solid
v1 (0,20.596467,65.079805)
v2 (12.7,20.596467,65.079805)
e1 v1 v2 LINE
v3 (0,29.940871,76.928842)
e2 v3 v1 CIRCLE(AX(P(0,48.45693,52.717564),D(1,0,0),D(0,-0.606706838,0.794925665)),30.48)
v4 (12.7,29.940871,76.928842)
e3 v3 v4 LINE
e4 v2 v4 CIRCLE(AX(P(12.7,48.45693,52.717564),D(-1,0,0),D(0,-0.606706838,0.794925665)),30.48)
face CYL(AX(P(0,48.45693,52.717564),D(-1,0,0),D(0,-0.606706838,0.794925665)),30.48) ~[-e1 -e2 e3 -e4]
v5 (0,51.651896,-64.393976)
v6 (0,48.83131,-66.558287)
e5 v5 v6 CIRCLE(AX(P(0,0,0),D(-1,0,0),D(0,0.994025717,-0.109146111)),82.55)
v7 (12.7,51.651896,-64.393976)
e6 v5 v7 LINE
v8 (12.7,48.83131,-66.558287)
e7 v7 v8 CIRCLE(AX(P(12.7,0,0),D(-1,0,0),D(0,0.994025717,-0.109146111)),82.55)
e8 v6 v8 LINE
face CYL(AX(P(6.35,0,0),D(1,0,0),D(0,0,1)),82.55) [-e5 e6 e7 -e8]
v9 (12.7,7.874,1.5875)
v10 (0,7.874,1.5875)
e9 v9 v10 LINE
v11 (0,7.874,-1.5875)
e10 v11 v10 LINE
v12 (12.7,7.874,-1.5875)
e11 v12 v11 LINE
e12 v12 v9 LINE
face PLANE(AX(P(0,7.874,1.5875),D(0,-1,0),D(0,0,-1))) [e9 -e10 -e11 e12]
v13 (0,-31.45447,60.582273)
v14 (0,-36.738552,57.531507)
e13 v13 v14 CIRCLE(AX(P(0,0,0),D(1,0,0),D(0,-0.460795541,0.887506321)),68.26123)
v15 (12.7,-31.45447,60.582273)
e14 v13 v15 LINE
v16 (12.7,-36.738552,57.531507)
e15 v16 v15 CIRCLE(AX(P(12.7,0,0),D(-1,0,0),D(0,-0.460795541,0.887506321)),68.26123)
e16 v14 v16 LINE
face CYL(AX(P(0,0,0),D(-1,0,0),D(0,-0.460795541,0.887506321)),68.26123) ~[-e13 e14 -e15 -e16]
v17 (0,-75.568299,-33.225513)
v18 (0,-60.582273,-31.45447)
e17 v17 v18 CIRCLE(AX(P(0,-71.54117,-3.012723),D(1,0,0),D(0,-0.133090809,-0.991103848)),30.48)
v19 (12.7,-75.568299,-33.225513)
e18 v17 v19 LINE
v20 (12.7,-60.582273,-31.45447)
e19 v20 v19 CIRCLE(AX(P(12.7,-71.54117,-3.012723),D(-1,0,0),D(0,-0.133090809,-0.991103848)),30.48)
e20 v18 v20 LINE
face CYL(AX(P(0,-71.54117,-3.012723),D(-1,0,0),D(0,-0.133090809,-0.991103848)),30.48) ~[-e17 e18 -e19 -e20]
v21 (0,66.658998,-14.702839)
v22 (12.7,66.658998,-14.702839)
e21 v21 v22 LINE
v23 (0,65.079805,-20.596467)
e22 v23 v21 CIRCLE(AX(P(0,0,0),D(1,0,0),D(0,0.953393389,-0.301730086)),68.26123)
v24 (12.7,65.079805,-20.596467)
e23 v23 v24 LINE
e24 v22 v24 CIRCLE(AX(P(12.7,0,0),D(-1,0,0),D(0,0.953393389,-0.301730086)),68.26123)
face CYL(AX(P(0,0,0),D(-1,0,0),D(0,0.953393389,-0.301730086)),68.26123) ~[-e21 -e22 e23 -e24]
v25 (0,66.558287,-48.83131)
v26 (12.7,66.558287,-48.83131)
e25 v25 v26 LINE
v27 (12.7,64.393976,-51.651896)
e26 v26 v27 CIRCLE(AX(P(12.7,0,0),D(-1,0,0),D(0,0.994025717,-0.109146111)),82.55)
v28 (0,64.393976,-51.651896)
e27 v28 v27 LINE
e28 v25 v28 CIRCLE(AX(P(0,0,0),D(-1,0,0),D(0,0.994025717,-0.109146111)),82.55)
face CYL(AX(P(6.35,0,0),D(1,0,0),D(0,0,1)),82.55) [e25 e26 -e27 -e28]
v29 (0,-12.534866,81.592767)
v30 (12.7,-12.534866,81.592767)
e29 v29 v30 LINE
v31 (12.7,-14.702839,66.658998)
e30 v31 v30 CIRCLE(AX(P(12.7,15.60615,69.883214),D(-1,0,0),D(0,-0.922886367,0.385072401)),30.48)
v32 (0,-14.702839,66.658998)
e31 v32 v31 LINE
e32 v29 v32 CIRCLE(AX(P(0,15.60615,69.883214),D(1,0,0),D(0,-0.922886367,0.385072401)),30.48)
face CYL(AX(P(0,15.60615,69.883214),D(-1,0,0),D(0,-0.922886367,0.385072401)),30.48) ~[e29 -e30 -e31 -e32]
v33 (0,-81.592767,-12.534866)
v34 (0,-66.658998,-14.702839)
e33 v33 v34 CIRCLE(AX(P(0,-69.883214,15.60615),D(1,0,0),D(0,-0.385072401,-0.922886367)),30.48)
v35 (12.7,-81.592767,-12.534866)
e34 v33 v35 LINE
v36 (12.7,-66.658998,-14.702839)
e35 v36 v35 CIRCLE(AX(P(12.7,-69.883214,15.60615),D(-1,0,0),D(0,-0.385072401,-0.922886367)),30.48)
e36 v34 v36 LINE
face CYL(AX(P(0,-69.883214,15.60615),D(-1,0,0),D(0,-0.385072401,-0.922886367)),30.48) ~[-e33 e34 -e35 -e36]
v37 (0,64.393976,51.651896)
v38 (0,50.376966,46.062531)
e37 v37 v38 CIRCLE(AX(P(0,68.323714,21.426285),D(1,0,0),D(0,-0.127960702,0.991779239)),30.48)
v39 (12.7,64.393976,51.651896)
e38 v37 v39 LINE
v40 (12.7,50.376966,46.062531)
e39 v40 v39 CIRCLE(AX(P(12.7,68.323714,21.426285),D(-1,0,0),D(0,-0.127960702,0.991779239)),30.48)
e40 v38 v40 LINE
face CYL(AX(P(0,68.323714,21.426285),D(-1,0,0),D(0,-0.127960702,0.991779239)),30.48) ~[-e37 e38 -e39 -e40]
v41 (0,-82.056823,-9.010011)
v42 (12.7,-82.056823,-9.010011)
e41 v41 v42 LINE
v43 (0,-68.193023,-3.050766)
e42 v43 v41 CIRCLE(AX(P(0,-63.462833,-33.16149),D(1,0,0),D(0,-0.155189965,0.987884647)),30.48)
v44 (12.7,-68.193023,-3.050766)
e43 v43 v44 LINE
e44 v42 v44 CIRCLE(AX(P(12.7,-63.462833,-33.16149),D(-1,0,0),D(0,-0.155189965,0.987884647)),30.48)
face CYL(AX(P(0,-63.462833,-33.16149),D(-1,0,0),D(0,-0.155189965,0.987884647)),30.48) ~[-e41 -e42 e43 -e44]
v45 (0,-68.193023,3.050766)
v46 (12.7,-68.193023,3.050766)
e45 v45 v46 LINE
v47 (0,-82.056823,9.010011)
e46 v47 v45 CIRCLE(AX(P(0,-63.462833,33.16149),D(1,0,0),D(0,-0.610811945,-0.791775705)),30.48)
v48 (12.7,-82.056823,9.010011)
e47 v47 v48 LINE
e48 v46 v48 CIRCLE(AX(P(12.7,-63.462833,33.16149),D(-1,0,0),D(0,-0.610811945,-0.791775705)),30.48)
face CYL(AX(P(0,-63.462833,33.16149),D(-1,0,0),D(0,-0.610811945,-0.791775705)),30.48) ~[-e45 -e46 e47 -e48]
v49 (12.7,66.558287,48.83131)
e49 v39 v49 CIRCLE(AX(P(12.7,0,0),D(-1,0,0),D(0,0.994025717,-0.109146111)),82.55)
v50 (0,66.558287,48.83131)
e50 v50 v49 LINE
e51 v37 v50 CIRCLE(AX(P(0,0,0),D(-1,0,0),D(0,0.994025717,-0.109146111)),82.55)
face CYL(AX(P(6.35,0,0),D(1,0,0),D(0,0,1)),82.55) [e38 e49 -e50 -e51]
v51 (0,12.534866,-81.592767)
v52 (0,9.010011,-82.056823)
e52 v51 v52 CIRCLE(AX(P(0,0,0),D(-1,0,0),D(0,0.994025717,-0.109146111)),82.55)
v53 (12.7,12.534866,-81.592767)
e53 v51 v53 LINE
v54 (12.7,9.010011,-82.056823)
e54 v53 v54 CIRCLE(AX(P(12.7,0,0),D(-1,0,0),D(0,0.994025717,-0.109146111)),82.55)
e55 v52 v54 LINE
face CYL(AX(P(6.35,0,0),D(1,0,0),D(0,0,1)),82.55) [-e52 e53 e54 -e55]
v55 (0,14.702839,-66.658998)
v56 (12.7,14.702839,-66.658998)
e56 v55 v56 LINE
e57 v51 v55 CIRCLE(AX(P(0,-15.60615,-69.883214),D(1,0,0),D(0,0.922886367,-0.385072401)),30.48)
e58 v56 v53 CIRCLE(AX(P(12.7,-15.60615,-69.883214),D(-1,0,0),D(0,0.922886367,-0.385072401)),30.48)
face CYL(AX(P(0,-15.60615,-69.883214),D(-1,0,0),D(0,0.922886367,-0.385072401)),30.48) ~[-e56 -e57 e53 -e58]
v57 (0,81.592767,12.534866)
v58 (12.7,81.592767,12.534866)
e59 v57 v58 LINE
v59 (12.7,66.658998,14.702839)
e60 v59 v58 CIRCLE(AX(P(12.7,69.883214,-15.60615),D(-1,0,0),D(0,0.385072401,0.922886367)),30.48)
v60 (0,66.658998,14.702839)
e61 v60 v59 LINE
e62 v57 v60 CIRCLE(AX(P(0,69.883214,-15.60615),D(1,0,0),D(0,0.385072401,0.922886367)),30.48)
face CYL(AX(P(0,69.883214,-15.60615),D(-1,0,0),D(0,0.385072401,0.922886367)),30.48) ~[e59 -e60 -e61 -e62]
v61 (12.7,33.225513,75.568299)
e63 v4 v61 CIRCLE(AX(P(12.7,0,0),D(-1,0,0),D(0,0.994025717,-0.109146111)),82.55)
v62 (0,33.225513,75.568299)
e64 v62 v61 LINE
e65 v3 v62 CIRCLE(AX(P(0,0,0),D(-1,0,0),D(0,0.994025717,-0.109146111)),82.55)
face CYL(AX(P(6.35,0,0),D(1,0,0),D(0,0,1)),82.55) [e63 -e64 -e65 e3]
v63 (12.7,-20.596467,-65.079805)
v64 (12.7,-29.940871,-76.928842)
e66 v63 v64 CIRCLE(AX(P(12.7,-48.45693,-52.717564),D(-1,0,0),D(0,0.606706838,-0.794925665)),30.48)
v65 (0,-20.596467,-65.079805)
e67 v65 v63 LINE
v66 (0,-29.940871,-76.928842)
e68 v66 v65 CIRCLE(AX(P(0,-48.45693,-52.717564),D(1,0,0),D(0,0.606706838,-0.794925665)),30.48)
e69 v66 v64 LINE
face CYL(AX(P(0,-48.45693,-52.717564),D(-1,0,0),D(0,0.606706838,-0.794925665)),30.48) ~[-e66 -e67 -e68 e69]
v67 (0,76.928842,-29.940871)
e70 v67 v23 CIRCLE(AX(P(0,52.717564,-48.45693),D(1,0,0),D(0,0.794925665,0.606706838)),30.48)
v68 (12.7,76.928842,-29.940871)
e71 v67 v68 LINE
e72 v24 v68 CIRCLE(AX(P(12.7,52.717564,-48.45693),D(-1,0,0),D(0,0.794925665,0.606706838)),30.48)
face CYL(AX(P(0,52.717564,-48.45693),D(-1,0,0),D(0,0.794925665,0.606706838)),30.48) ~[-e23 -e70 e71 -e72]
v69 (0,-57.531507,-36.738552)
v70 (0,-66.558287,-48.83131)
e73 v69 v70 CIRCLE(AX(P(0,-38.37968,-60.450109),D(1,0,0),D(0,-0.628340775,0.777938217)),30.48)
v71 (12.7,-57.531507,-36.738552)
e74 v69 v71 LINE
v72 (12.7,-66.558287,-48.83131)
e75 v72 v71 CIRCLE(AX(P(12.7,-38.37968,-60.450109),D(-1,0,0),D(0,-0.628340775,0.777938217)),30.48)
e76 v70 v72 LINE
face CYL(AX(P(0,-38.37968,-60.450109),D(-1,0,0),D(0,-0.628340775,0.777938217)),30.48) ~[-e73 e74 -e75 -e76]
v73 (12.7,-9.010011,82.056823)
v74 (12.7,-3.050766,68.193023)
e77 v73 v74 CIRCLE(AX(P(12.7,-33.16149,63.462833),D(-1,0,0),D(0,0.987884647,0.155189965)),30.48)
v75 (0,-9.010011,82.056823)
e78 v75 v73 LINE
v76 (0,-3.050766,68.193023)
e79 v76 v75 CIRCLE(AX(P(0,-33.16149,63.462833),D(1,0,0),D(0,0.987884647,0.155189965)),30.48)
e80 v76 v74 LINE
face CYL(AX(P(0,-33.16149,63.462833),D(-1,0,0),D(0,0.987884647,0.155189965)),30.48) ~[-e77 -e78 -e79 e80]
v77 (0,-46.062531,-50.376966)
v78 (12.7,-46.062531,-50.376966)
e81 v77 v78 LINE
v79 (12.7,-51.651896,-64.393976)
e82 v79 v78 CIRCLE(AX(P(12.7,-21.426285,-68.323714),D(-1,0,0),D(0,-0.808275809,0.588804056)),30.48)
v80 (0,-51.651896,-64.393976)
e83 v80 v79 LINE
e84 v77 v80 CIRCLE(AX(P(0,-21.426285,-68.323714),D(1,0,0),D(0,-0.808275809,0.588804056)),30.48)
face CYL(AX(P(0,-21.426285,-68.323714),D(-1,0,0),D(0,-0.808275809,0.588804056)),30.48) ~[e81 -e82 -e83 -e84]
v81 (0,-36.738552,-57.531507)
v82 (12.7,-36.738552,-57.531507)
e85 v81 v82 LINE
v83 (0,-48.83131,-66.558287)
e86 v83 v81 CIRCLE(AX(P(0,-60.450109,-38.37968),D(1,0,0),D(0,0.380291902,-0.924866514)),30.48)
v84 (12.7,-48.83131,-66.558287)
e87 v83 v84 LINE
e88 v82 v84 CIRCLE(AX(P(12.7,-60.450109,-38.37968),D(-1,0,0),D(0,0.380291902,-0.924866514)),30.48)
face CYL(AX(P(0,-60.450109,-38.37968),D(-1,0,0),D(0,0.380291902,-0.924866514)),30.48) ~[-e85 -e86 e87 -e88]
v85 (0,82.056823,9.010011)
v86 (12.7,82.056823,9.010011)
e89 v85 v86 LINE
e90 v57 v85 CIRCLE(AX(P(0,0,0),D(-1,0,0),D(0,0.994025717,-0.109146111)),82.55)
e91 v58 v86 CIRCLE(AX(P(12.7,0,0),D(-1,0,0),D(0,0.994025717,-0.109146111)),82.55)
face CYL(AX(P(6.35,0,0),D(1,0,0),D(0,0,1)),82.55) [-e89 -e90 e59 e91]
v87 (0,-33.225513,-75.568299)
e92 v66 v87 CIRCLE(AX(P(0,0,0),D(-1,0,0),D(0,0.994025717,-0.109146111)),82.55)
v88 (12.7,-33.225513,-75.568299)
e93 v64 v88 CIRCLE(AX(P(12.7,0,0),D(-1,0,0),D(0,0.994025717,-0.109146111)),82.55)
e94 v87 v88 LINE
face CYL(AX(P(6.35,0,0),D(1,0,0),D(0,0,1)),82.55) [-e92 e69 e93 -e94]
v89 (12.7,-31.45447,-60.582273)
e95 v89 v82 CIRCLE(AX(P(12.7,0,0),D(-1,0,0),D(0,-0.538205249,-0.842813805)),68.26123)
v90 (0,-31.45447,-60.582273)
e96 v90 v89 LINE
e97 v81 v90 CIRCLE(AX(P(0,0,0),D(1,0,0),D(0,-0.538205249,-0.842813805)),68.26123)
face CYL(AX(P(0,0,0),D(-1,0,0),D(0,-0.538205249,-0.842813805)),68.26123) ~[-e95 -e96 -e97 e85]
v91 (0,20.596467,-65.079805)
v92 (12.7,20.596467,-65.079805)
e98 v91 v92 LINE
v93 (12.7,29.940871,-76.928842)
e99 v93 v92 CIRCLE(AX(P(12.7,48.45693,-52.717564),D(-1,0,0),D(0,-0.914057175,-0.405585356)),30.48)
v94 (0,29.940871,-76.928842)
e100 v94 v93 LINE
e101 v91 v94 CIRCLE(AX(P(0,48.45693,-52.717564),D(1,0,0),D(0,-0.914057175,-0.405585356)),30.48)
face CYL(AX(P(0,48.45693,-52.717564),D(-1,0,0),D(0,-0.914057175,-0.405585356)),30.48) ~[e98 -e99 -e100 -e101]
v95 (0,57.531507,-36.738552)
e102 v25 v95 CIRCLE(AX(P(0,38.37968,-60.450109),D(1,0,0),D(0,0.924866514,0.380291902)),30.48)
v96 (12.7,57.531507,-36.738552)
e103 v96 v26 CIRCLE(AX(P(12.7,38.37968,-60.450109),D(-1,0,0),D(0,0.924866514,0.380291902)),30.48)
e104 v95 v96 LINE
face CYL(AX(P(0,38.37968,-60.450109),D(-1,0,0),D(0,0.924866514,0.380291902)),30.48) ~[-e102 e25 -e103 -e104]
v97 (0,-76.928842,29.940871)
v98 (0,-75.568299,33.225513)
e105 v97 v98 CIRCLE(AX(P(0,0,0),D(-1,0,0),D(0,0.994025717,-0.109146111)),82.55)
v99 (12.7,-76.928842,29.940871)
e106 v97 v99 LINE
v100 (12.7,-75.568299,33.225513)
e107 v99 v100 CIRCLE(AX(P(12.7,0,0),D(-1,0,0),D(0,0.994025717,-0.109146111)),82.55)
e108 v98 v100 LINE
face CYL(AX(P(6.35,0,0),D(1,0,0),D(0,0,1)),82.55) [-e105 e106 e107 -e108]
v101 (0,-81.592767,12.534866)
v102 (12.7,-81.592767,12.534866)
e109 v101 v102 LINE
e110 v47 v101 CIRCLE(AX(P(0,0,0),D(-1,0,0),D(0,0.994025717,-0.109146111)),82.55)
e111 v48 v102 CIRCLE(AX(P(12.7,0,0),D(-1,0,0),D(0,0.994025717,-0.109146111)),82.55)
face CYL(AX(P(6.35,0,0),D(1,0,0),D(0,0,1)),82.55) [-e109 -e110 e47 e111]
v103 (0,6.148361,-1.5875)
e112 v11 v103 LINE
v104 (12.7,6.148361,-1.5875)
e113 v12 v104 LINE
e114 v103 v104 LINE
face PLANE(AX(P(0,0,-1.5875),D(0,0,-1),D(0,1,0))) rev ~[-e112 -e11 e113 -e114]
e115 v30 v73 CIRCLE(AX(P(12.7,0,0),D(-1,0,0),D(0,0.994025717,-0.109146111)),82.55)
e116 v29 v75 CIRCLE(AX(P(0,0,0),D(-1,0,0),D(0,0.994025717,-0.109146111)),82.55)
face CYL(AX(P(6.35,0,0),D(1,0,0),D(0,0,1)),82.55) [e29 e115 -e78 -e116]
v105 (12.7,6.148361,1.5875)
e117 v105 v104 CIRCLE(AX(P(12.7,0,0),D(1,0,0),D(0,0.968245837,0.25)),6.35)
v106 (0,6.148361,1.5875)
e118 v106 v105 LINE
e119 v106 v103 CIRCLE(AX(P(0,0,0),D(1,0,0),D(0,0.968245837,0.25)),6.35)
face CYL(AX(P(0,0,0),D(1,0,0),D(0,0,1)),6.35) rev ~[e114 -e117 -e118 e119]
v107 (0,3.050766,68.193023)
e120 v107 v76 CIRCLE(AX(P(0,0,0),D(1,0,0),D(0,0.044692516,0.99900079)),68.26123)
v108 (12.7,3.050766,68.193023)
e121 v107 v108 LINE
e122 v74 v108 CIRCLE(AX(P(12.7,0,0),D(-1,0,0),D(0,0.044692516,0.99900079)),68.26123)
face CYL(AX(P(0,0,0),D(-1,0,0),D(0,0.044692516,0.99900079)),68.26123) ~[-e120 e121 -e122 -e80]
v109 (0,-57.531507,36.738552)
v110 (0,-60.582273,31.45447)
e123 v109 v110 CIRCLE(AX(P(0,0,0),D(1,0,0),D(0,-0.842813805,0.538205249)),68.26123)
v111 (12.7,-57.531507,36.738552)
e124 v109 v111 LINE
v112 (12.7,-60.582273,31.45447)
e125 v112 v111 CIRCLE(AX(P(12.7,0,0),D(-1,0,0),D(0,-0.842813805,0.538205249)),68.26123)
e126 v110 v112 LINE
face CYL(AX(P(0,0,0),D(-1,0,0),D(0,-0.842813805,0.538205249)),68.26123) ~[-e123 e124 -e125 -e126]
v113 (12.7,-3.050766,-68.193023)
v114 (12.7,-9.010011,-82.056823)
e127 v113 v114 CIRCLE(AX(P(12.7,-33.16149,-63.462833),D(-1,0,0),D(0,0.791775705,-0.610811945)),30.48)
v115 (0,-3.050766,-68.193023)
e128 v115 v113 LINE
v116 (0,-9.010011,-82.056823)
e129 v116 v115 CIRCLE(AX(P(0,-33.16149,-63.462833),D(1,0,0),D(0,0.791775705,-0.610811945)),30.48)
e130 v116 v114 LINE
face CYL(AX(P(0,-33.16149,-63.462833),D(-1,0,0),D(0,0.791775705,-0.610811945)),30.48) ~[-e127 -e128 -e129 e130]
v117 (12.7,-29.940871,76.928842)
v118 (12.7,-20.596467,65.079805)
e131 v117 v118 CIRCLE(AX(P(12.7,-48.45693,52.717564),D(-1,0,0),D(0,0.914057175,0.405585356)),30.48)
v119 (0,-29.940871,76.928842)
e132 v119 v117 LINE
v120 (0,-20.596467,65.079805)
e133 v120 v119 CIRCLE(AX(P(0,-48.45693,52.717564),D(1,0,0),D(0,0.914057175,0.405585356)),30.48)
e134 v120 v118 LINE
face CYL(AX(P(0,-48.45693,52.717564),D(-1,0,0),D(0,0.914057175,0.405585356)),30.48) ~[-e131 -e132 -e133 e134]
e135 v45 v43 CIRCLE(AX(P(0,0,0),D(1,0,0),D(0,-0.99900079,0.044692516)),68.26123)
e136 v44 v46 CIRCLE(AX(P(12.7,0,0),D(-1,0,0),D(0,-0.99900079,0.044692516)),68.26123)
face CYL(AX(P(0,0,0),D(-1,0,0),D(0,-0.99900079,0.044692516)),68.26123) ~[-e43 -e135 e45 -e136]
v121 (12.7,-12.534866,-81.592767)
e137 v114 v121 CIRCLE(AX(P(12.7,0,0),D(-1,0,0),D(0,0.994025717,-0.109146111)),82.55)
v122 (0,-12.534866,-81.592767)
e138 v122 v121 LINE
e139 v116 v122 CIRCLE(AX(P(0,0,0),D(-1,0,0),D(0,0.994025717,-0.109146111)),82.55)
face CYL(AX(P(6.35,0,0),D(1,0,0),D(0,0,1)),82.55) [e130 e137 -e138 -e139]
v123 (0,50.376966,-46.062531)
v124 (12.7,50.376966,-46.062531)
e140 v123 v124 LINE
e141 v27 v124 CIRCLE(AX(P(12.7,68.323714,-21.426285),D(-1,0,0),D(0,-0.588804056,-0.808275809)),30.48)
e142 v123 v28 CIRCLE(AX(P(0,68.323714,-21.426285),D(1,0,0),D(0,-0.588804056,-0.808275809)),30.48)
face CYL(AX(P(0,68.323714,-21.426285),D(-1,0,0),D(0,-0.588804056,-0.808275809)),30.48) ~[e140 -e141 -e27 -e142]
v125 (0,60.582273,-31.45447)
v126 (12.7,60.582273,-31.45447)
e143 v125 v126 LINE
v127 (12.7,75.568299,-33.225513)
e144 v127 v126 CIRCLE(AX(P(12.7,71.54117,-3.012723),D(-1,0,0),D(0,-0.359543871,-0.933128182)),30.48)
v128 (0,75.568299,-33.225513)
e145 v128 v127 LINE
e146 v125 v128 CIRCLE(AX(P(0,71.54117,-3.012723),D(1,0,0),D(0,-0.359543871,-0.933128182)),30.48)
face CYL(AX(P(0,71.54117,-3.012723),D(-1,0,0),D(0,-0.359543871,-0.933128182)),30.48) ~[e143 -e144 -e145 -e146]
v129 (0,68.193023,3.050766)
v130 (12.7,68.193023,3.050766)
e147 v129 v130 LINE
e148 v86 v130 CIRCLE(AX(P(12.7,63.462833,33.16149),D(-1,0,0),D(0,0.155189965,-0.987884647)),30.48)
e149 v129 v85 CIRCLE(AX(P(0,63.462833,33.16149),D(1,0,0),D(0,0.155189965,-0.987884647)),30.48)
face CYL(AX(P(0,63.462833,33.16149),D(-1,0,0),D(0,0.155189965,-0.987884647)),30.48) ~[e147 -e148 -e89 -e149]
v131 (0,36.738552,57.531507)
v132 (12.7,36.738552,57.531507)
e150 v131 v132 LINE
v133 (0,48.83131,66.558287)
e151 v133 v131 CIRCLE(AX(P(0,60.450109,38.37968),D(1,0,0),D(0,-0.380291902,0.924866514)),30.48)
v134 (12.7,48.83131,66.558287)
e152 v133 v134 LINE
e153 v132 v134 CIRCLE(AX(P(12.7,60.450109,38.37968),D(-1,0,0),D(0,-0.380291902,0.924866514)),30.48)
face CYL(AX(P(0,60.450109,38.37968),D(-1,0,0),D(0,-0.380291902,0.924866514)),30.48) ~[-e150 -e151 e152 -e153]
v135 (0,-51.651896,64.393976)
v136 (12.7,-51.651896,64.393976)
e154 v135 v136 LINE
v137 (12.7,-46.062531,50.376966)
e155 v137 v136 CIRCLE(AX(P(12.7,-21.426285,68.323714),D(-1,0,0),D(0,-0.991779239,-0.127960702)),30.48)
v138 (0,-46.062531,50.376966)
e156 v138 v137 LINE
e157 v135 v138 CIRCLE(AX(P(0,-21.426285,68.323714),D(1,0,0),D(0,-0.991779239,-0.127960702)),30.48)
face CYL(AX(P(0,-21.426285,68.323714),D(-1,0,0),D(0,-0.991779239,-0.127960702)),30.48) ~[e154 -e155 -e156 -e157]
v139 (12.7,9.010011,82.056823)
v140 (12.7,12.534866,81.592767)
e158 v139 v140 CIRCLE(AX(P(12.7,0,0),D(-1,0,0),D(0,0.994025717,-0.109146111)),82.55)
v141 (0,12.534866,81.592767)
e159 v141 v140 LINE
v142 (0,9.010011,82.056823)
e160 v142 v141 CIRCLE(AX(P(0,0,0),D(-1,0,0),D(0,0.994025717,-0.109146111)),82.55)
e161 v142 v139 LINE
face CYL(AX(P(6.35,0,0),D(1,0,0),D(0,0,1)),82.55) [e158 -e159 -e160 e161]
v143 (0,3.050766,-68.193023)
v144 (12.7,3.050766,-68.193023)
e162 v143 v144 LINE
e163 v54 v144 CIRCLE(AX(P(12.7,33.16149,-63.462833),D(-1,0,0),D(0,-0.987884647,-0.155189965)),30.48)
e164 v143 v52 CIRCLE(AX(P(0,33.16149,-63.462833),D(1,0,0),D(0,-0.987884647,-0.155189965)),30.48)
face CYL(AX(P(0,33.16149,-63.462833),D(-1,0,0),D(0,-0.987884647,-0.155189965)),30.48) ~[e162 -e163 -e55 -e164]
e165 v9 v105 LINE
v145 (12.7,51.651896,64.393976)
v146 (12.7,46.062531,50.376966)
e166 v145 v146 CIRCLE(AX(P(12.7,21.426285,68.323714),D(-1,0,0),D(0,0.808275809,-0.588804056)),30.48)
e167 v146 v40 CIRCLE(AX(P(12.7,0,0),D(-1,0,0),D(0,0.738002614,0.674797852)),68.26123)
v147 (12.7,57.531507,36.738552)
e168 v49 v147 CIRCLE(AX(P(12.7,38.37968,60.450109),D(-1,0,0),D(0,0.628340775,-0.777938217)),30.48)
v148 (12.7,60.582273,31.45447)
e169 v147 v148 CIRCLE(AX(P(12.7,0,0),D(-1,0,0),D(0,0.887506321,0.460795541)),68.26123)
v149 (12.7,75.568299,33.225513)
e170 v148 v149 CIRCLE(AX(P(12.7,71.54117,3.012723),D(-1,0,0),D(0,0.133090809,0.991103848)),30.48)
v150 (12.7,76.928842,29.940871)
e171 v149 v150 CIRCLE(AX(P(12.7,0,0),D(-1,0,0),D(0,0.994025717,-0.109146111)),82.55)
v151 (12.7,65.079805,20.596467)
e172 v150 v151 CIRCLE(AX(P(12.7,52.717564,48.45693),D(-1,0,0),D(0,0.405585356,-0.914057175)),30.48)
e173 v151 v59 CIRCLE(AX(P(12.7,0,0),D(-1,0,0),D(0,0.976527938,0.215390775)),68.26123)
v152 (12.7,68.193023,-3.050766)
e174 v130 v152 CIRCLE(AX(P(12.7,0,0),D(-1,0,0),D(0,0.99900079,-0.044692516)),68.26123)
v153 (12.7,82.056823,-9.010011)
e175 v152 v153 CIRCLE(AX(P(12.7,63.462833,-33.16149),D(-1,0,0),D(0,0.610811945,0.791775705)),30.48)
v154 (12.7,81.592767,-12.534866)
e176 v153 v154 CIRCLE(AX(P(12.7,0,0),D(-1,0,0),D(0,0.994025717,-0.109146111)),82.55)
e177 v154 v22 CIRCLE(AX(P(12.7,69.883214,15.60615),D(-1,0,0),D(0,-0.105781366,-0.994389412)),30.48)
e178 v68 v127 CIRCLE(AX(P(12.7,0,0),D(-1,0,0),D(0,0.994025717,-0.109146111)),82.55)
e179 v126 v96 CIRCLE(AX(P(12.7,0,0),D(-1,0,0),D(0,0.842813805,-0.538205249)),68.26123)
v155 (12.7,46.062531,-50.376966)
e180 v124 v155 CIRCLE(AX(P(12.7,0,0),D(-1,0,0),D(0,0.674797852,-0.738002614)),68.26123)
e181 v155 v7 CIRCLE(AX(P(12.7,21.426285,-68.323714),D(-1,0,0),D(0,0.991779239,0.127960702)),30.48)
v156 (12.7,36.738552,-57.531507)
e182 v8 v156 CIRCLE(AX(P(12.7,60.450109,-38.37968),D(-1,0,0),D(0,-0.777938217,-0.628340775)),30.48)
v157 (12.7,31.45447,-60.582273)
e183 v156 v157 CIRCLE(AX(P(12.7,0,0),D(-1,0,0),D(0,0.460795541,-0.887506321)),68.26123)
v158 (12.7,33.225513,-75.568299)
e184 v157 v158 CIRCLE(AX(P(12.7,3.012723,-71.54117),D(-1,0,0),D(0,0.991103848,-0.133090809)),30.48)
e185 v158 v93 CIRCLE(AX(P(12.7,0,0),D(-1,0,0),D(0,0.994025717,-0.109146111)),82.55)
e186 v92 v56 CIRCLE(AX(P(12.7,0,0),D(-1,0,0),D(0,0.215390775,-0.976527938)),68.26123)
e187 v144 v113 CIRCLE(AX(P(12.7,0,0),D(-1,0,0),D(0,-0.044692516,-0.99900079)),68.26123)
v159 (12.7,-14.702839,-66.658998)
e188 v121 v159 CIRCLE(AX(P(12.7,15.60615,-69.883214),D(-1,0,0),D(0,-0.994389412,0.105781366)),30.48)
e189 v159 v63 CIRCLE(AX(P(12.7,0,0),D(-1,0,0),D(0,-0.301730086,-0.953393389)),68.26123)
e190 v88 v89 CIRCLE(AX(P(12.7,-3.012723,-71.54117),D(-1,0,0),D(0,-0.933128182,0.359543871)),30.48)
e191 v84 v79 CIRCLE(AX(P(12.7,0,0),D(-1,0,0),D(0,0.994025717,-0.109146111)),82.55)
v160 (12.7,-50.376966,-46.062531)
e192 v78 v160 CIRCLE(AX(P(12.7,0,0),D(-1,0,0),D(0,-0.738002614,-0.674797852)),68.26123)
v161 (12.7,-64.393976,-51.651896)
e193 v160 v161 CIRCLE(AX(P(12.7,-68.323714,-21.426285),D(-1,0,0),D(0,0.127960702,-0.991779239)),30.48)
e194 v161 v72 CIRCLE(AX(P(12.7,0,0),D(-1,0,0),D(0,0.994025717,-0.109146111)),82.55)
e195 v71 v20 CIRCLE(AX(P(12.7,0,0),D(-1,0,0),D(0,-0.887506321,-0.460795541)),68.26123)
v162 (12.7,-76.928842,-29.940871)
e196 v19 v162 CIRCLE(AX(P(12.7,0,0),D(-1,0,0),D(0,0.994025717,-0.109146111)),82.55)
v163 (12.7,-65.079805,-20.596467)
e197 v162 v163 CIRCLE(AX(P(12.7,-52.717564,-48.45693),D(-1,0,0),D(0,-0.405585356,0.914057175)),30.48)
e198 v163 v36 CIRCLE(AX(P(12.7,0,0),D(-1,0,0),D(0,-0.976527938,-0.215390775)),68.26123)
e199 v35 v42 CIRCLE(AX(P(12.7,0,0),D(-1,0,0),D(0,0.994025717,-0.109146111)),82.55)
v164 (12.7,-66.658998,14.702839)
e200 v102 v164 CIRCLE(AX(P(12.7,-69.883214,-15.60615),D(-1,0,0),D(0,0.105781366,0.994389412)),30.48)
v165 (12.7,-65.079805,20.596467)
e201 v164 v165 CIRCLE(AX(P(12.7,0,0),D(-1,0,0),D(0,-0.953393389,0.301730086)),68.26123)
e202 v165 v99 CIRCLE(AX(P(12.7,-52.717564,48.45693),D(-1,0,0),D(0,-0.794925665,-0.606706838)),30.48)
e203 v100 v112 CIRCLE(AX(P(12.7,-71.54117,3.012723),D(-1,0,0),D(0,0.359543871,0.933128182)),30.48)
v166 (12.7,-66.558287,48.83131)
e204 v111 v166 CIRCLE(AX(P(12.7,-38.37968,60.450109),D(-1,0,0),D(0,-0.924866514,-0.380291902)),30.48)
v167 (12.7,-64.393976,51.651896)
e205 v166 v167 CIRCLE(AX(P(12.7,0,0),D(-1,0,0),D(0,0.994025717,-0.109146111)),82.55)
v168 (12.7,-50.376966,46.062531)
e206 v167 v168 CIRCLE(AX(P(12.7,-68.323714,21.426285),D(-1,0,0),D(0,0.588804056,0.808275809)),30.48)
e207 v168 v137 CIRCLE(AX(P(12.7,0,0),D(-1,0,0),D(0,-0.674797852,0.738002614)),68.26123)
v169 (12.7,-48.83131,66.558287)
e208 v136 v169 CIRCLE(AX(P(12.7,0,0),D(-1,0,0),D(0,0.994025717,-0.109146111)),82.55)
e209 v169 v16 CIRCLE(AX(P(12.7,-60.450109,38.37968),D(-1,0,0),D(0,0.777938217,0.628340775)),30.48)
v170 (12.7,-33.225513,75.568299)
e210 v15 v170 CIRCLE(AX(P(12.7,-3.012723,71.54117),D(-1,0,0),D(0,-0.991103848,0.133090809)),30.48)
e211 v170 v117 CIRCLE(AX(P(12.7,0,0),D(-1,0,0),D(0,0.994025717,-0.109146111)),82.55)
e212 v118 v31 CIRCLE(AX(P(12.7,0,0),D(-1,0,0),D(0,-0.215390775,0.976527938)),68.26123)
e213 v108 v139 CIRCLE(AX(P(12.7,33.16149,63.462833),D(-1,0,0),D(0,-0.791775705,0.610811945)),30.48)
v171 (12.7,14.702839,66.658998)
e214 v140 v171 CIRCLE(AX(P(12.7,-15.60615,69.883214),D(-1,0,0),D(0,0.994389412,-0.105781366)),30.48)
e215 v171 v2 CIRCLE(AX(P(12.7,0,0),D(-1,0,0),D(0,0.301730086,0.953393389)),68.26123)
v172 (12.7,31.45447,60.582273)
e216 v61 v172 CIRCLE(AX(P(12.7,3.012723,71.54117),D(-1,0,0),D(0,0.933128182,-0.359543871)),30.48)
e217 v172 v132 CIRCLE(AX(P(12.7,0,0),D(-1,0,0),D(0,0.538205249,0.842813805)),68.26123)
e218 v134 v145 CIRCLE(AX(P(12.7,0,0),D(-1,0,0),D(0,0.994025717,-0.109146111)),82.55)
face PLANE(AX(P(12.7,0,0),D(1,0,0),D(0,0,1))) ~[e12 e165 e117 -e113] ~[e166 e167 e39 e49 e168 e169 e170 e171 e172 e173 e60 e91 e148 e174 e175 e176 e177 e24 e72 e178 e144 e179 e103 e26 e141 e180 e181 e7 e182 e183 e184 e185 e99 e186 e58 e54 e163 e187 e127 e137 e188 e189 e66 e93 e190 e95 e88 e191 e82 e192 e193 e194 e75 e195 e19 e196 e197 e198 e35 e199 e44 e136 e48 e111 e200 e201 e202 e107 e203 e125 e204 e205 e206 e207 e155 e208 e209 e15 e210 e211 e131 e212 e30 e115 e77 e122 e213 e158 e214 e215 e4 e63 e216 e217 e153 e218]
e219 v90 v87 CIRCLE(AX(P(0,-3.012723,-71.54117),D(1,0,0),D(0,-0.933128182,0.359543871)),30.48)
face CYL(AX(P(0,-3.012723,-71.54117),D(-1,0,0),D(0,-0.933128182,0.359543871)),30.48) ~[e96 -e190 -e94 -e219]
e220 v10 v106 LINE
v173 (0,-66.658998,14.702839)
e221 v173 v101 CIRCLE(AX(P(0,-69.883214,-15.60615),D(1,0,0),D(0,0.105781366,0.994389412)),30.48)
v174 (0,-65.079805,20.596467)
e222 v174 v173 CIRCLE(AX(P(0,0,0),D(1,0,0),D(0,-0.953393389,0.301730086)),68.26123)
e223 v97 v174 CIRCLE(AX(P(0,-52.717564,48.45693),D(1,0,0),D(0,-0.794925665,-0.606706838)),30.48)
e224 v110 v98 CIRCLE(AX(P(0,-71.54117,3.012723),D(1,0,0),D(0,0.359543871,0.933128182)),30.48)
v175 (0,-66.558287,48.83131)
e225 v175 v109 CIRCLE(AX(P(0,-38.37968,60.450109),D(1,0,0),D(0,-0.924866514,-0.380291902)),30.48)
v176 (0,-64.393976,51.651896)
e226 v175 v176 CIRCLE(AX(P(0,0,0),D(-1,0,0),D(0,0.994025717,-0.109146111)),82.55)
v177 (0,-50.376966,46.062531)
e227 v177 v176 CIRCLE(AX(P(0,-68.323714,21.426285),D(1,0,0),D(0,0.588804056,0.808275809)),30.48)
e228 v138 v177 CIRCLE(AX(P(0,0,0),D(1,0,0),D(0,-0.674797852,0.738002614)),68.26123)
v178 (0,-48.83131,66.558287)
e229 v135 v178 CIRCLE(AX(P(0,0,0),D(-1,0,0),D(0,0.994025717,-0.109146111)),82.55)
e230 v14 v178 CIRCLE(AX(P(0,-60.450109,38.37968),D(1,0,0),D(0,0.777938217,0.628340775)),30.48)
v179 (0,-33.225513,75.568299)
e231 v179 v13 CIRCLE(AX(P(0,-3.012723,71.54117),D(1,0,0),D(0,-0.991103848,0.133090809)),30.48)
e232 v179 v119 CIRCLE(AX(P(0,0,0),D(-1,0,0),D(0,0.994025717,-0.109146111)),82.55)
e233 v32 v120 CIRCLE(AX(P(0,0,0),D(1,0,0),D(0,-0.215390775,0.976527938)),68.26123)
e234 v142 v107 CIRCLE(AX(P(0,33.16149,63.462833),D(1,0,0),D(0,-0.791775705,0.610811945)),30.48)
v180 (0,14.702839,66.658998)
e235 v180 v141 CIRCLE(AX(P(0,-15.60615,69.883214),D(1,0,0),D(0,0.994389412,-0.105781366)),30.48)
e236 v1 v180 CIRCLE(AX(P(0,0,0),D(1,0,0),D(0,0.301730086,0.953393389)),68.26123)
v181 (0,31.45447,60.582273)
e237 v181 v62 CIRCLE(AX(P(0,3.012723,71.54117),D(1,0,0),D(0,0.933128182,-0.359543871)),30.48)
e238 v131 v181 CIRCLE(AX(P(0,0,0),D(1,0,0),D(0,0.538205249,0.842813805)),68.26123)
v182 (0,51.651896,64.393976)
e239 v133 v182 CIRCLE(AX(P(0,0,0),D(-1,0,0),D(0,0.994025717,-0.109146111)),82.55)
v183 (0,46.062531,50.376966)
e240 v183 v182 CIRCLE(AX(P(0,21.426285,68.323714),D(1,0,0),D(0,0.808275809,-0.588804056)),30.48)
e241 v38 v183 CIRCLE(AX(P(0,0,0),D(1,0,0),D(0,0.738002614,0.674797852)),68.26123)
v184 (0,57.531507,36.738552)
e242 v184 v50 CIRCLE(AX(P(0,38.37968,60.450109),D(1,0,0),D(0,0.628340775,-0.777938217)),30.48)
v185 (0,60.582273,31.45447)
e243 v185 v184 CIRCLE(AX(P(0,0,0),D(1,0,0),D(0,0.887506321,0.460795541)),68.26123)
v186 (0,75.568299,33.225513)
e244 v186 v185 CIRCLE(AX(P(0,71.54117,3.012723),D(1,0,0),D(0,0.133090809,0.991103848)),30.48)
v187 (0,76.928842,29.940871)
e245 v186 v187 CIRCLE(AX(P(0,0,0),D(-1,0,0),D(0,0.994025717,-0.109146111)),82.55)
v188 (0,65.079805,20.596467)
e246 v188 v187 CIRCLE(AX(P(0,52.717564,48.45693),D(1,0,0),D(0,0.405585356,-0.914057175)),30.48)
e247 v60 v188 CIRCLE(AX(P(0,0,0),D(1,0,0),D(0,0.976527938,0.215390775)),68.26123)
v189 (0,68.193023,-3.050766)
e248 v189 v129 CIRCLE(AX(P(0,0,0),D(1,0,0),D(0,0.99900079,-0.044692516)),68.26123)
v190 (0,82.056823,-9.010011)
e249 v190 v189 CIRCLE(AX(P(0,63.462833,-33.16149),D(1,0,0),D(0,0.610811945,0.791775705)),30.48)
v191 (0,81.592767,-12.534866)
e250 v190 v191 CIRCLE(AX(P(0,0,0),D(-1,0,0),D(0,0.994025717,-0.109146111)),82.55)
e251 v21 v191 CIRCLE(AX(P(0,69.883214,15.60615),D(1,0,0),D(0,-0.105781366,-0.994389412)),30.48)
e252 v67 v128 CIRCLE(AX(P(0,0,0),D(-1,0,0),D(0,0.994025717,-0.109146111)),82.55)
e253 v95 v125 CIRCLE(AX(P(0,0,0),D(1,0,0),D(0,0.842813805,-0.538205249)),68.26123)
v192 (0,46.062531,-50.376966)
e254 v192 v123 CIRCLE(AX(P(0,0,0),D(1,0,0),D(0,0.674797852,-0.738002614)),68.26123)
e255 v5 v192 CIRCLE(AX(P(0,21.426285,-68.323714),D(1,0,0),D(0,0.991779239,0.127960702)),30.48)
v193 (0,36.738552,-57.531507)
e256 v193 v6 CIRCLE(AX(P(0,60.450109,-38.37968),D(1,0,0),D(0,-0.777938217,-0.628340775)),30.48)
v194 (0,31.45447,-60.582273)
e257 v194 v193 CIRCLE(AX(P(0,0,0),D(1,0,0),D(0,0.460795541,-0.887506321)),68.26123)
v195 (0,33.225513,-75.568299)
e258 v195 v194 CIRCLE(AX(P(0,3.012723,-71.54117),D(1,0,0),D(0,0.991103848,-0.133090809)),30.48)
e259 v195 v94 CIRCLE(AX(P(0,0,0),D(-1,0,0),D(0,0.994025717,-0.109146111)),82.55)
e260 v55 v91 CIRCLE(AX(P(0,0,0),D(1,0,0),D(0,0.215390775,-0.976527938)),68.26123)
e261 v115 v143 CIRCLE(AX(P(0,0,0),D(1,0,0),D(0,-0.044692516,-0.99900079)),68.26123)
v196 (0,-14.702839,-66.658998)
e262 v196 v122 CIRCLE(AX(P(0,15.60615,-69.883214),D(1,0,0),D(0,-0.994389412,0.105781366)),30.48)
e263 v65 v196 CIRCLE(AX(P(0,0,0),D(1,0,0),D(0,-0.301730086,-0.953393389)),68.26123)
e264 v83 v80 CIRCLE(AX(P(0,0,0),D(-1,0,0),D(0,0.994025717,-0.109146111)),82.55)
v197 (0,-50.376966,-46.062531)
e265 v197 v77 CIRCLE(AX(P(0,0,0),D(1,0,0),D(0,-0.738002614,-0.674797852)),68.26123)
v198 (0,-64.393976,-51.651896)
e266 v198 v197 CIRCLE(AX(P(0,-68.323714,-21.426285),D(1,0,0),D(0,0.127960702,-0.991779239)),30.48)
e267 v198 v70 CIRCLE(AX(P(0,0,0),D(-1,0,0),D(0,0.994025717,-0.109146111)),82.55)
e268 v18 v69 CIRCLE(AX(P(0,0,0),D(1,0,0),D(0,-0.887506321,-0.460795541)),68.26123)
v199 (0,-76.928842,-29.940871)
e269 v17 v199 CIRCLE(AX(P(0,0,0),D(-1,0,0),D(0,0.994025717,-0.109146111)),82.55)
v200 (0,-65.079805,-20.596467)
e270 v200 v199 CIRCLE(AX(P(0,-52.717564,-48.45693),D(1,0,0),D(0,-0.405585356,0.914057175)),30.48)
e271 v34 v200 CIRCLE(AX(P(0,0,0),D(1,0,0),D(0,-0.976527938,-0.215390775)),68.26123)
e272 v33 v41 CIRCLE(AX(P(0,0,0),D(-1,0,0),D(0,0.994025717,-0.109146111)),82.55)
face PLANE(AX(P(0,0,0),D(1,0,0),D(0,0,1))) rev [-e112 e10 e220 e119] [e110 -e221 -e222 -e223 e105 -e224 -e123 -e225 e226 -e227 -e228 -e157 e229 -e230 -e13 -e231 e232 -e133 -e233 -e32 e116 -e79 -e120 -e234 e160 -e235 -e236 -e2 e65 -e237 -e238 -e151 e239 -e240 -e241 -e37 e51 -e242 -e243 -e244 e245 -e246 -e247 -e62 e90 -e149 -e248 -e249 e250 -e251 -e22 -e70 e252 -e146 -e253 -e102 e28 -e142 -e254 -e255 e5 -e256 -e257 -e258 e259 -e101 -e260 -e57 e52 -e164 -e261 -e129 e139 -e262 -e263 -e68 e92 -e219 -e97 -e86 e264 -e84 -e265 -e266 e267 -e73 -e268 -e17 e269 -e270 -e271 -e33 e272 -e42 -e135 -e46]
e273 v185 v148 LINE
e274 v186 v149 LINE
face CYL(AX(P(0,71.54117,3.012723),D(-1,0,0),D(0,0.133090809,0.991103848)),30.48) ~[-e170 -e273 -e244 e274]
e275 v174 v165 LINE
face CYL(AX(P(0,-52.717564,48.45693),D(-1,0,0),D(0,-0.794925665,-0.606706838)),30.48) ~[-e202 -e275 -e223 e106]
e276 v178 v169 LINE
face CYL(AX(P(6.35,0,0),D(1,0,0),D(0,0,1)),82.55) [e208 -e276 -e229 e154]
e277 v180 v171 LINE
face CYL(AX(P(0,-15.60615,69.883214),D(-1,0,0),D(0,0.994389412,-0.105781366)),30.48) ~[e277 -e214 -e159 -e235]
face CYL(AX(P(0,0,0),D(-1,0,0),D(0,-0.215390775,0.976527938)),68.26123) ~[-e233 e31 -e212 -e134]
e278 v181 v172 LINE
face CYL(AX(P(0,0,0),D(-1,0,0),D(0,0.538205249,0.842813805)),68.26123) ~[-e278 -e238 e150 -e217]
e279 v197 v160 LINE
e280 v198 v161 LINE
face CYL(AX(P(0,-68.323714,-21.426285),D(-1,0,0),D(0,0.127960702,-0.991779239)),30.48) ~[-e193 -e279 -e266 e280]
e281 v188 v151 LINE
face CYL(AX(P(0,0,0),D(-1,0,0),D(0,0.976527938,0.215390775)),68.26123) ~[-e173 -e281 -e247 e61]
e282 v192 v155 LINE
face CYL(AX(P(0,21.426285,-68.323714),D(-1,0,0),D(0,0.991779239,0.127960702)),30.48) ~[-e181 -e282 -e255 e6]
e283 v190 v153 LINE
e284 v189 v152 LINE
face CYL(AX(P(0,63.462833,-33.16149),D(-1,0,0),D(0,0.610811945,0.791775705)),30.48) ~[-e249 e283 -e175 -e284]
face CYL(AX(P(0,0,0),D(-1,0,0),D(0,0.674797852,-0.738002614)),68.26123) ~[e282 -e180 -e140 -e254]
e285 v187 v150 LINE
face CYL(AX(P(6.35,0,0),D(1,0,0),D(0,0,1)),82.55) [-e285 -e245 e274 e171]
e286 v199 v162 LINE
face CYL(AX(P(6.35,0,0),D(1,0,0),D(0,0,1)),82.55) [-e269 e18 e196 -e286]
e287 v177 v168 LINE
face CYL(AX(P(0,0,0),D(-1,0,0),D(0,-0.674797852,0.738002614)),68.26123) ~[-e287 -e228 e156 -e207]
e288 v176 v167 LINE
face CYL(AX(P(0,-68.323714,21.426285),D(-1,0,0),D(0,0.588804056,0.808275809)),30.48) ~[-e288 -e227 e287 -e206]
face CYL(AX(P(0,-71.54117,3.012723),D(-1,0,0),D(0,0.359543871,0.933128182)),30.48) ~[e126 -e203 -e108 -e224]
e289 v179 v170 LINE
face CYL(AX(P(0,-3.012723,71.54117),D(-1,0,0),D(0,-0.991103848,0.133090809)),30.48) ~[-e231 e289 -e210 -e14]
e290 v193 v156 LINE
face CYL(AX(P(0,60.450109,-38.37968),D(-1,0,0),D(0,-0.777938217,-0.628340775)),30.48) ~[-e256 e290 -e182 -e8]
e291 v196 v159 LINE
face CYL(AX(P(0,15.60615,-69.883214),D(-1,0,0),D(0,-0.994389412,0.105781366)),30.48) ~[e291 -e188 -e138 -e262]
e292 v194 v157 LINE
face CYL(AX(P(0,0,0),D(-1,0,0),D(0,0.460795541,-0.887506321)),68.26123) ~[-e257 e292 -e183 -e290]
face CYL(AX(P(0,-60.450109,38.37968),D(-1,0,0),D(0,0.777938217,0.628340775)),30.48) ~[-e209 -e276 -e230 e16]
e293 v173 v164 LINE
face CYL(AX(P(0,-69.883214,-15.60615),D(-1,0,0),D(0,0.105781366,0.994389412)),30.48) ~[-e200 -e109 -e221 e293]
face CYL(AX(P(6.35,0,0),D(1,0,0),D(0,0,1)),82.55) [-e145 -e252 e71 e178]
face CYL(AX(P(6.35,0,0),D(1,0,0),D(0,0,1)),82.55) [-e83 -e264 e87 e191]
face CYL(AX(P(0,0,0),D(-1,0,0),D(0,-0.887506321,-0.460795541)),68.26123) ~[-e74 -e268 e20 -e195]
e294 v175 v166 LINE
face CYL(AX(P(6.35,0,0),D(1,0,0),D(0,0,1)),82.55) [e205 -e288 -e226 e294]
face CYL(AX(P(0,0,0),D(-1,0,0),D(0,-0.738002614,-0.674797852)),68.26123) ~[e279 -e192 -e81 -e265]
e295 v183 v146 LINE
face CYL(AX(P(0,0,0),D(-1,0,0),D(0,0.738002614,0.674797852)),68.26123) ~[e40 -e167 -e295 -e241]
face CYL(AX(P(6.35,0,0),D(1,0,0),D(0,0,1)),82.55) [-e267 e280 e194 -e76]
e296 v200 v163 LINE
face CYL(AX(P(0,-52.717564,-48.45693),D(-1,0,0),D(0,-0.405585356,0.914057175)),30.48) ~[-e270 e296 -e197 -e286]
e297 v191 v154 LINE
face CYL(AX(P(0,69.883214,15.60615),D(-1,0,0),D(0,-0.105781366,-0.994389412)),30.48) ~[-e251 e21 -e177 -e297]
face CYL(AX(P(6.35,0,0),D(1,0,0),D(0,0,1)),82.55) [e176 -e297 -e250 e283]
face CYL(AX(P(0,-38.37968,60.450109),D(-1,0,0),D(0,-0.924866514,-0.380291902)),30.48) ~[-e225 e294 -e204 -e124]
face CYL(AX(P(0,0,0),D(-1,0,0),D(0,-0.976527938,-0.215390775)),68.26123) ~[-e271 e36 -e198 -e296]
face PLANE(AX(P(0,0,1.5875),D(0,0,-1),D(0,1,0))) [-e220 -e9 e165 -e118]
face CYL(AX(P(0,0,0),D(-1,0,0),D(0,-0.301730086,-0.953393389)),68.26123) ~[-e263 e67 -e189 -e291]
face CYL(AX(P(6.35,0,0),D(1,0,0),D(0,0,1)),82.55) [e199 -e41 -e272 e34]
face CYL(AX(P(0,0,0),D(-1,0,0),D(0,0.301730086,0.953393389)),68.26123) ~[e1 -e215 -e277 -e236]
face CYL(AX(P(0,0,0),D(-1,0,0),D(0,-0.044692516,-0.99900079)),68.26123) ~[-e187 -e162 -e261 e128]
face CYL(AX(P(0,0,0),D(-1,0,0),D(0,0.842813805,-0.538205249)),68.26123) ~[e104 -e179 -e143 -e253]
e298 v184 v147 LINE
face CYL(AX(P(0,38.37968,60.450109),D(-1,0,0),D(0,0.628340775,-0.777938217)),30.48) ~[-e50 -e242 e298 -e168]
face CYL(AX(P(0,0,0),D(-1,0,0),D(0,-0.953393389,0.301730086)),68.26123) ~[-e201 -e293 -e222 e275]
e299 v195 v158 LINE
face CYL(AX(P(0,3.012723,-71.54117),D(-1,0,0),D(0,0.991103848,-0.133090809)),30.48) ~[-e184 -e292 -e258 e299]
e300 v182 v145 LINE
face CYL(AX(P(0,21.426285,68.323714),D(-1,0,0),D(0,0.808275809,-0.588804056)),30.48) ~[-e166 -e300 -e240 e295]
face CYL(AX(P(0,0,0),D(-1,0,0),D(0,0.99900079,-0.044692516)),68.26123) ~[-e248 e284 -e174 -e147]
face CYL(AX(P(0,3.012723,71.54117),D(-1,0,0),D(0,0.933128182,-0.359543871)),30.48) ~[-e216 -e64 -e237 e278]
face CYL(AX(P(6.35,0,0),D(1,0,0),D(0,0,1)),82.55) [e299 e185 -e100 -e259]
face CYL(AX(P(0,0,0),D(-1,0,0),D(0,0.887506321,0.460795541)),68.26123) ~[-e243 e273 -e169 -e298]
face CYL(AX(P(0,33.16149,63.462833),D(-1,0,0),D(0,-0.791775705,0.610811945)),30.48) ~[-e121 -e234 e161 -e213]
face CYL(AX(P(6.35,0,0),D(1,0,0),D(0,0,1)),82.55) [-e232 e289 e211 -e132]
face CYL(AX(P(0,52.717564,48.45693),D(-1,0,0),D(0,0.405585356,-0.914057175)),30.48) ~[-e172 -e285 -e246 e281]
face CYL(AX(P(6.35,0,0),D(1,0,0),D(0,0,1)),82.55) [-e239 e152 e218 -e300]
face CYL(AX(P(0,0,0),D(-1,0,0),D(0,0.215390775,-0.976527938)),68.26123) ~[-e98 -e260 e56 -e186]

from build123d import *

# Parameters (mm, degrees)
BASPROSKE_W     = 12.7
BASPROSKE_H     = 82.55
TOOTHCUT_DEPTH  = 118.432086757
TEETHCUTS_COUNT = 24
TEETHCUTS_ANGLE = 345
BORSKE_R        = 6.35
BORE_DEPTH      = 50.8000508
KEYSKE_W        = 3.175
KEYSKE_H        = 7.874
KEYWAY_DEPTH    = 50.8000508


with BuildPart() as part:
    # BasProSke → Base-Revolve (revolve)
    with BuildSketch(Plane(origin=(0, 0, 0), x_dir=(1, 0, 0), z_dir=(0, 1, 0)), mode=Mode.PRIVATE) as base_revolve_sk:
        with Locations((6.35, 41.275)):
            Rectangle(BASPROSKE_W, BASPROSKE_H)
    revolve(base_revolve_sk.sketch.rotate(Axis((-10, 0, 0), (1, 0, 0)), 180), axis=Axis((-10, 0, 0), (1, 0, 0)))

    # TooCutSke → ToothCut (cut, through all)
    with BuildSketch(Plane(origin=(0, 0, 0), x_dir=(0, 0, -1), z_dir=(1, 0, 0))):
        with BuildLine():
            ThreePointArc((3.050766134, 68.193022716), (0, 68.26123), (-3.050766134, 68.193022716))
            ThreePointArc((-3.050766134, 68.193022716), (-5.164725154, 75.513208068), (-9.02816666, 82.080380676))
            ThreePointArc((-9.02816666, 82.080380676), (0, 82.5754), (9.02816666, 82.080380676))
            ThreePointArc((9.02816666, 82.080380676), (5.164725154, 75.513208068), (3.050766134, 68.193022716))
        make_face()
    toothcut = extrude(amount=TOOTHCUT_DEPTH, mode=Mode.SUBTRACT)

    # TeethCuts: ToothCut ×24 about axis
    teethcuts_axis = Axis((-10, 0, 0), (1, 0, 0))
    for i in range(1, TEETHCUTS_COUNT):
        add(toothcut.rotate(teethcuts_axis, i * TEETHCUTS_ANGLE / (TEETHCUTS_COUNT - 1)), mode=Mode.SUBTRACT)

    # BorSke → Bore (cut, symmetric)
    with BuildSketch(Plane(origin=(0, 0, 0), x_dir=(0, 0, -1), z_dir=(1, 0, 0))):
        with Locations(Location((0, 0, 0), (0, 0, 180))):
            Circle(BORSKE_R)
    extrude(amount=BORE_DEPTH, both=True, mode=Mode.SUBTRACT)

    # KeySke → Keyway (cut, symmetric)
    with BuildSketch(Plane(origin=(0, 0, 0), x_dir=(0, 0, -1), z_dir=(1, 0, 0))):
        with Locations((0, 3.937)):
            Rectangle(KEYSKE_W, KEYSKE_H)
    extrude(amount=KEYWAY_DEPTH, both=True, mode=Mode.SUBTRACT)


solid = part.part
